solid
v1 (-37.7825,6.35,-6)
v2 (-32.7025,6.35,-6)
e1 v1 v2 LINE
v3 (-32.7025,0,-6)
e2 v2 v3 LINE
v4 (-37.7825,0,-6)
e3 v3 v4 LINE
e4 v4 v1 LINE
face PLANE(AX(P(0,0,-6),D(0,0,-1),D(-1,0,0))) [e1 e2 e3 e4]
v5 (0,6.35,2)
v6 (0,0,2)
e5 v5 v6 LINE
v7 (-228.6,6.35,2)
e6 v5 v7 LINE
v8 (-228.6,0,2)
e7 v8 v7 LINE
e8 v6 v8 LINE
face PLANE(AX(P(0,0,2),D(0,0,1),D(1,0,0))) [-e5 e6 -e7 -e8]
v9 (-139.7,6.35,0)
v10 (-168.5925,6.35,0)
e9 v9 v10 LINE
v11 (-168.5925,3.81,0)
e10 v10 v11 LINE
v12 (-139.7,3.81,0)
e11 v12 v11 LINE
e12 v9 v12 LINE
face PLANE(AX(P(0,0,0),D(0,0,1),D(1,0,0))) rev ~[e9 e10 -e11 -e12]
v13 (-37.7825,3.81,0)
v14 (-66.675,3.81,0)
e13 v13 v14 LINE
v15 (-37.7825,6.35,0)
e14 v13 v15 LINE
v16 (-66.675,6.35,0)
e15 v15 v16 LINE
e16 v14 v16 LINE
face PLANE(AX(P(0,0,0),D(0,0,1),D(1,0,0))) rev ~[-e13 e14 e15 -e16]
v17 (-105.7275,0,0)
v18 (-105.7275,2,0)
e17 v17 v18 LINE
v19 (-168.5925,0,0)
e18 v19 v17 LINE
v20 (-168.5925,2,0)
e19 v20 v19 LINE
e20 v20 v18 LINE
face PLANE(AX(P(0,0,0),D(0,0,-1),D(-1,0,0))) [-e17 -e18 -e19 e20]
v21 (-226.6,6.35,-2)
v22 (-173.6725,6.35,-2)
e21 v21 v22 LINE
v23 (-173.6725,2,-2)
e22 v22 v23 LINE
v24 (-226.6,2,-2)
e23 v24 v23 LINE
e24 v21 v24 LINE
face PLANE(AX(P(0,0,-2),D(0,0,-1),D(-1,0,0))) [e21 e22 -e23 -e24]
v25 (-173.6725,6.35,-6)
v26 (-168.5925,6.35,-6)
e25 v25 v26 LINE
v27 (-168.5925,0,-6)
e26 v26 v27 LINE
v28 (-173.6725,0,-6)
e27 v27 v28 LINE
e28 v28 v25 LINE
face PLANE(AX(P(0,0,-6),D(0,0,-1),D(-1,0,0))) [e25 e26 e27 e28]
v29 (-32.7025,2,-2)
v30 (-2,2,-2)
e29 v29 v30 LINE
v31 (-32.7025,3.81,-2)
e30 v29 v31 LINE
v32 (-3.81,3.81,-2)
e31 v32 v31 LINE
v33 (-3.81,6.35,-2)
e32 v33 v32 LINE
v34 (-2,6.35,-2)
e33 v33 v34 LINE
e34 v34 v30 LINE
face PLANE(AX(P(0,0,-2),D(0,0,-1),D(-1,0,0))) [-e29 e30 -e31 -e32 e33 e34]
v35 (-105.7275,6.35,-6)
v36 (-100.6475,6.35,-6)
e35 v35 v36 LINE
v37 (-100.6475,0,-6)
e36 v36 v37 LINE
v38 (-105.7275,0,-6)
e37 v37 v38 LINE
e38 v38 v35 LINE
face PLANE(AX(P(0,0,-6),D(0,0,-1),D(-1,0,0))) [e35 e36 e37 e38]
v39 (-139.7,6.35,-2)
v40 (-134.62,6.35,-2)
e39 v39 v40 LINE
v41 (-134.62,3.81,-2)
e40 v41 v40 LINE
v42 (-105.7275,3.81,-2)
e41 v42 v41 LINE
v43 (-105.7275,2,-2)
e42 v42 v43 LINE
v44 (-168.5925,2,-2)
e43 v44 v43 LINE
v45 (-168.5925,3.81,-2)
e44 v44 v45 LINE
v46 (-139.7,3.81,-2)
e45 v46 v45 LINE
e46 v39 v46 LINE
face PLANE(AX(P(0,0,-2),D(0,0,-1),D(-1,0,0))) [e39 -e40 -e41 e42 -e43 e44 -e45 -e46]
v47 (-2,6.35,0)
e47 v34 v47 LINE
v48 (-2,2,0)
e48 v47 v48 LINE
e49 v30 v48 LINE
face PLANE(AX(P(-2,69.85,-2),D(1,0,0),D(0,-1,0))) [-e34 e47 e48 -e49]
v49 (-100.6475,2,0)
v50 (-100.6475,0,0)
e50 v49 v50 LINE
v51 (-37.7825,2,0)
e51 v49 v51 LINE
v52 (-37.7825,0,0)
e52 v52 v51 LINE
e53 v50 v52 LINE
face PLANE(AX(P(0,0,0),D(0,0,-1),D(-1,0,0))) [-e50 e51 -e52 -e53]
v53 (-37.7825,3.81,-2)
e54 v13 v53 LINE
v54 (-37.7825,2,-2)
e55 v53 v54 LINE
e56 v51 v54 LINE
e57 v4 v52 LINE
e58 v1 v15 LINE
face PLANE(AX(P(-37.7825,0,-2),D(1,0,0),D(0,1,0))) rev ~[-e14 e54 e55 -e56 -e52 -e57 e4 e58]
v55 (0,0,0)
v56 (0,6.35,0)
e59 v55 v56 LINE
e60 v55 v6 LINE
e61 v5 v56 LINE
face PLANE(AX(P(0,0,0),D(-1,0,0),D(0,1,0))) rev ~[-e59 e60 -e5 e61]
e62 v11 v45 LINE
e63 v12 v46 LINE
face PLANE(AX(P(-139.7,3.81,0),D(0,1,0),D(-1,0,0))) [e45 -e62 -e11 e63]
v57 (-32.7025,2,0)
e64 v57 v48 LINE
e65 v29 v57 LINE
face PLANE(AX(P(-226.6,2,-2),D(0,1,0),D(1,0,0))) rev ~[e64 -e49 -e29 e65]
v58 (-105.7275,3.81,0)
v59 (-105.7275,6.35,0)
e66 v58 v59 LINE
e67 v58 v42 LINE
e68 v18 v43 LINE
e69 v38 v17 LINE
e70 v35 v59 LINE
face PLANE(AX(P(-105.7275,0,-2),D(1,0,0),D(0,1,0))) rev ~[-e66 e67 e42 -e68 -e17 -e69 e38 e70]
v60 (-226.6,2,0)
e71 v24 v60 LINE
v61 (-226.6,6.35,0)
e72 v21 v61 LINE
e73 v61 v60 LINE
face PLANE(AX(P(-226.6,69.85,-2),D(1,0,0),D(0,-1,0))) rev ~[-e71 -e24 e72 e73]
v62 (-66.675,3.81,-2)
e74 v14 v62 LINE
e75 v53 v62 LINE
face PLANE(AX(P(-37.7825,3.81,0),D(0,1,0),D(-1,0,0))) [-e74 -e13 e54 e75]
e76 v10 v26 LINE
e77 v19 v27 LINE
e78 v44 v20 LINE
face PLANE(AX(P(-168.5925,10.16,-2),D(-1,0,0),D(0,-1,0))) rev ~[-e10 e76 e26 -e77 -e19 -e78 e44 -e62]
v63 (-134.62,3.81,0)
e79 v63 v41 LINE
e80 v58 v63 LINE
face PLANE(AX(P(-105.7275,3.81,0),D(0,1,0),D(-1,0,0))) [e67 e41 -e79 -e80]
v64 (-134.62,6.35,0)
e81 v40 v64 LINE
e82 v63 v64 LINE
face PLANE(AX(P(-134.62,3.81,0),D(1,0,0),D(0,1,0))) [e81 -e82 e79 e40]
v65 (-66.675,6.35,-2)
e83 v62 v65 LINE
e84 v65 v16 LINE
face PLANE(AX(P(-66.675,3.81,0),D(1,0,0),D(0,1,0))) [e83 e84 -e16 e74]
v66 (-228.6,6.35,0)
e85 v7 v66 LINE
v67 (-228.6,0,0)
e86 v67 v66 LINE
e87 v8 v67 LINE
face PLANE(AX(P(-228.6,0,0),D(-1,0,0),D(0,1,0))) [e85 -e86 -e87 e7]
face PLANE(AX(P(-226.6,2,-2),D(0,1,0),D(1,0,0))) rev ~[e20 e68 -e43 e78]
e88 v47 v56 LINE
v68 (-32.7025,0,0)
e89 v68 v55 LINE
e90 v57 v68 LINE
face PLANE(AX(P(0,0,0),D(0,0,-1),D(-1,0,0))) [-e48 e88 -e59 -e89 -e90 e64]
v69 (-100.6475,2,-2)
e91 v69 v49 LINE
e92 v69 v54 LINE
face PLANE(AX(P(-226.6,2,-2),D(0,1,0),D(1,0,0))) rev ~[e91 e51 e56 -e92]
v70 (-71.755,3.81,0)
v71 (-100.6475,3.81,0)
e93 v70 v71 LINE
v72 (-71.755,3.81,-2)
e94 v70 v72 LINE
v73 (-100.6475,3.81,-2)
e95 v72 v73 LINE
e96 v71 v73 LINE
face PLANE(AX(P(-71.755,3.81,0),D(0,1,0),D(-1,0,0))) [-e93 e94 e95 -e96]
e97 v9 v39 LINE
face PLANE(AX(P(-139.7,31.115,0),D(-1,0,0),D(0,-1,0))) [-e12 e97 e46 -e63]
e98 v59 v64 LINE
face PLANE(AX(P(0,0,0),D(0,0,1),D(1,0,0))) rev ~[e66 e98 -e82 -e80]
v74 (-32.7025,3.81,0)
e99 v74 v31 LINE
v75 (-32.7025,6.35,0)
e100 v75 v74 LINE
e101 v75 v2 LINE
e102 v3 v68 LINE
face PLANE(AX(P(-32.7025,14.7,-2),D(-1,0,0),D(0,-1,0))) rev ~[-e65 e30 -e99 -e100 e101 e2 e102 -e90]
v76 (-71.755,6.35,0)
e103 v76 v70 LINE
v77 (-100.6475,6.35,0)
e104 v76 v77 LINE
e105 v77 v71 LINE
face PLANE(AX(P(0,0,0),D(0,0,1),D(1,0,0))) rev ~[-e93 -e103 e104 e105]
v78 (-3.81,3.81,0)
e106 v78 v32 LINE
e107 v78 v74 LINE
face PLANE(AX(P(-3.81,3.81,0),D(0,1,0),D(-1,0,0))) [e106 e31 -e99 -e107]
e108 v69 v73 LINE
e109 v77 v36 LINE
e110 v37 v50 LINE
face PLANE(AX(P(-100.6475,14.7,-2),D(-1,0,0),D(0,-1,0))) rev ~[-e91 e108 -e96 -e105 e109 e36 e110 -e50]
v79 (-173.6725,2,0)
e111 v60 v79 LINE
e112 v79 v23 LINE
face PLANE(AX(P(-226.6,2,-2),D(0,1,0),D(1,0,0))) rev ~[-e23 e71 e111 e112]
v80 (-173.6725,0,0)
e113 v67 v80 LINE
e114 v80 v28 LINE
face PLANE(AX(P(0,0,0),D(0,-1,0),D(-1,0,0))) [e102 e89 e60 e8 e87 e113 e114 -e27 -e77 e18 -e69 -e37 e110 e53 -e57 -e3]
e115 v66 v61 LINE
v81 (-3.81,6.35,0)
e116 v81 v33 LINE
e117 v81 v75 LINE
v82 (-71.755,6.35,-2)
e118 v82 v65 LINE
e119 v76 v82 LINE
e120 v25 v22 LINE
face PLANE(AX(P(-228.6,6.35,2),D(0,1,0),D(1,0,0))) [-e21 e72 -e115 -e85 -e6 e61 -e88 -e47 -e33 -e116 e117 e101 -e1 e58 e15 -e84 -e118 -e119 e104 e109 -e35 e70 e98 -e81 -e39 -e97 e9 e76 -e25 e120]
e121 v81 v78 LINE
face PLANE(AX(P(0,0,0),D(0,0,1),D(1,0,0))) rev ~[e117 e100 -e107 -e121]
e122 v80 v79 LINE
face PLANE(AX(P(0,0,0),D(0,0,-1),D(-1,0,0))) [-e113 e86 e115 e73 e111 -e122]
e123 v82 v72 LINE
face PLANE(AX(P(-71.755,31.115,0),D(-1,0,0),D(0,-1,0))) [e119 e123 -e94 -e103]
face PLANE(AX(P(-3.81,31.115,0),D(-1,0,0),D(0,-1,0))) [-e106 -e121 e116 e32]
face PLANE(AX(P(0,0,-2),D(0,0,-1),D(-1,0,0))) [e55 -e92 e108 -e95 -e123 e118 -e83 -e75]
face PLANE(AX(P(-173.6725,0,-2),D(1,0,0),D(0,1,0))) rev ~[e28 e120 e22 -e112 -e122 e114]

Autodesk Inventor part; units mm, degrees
ref_plane "YZ Plane" through (0, 0, 0) normal (1, 0, 0) x (0, 1, 0)
ref_plane "XZ Plane" through (0, 0, 0) normal (0, 1, 0) x (-1, 0, 0)
ref_plane "XY Plane" through (0, 0, 0) normal (0, 0, 1) x (1, 0, 0)
sketch "Sketch1" plane through (0, 0, 0) normal (0, 0, 1) x (1, 0, 0)
  line L0 (0, 0) -> (-6.35, 0) construction
  line L1 (-6.35, 0) -> (-6.35, 6.35) construction
  line L2 (-6.35, 6.35) -> (0, 6.35) construction
  line L3 (0, 6.35) -> (0, 0) construction
  line L4 (-6.35, 6.35) -> (-30.1625, 6.35)
  line L5 (-30.1625, 6.35) -> (-30.1625, 28.575)
  line L6 (-30.1625, 28.575) -> (-6.35, 28.575)
  line L7 (-6.35, 28.575) -> (-6.35, 6.35)
  line L8 (-30.1625, 6.35) -> (-35.2425, 6.35) construction
  line L9 (-35.2425, 6.35) -> (-35.2425, 0) construction
  line L10 (-35.2425, 0) -> (-30.1625, 0) construction
  line L11 (-30.1625, 0) -> (-30.1625, 6.35) construction
  line L12 (-40.3225, 6.35) -> (-64.135, 6.35)
  line L13 (-64.135, 6.35) -> (-64.135, 28.575)
  line L14 (-64.135, 28.575) -> (-40.3225, 28.575)
  line L15 (-40.3225, 28.575) -> (-40.3225, 6.35)
  line L16 (-64.135, 6.35) -> (-69.215, 6.35) construction
  line L17 (-69.215, 6.35) -> (-69.215, 0) construction
  line L18 (-69.215, 0) -> (-64.135, 0) construction
  line L19 (-64.135, 0) -> (-64.135, 6.35) construction
  line L20 (-74.295, 6.35) -> (-98.1075, 6.35)
  line L21 (-98.1075, 6.35) -> (-98.1075, 28.575)
  line L22 (-98.1075, 28.575) -> (-74.295, 28.575)
  line L23 (-74.295, 28.575) -> (-74.295, 6.35)
  line L24 (-98.1075, 6.35) -> (-103.1875, 6.35) construction
  line L25 (-103.1875, 6.35) -> (-103.1875, 0) construction
  line L26 (-103.1875, 0) -> (-98.1075, 0) construction
  line L27 (-98.1075, 0) -> (-98.1075, 6.35) construction
  line L28 (-108.2675, 6.35) -> (-132.08, 6.35)
  line L29 (-132.08, 6.35) -> (-132.08, 28.575)
  line L30 (-132.08, 28.575) -> (-108.2675, 28.575)
  line L31 (-108.2675, 28.575) -> (-108.2675, 6.35)
  line L32 (-132.08, 6.35) -> (-137.16, 6.35) construction
  line L33 (-137.16, 6.35) -> (-137.16, 0) construction
  line L34 (-137.16, 0) -> (-132.08, 0) construction
  line L35 (-132.08, 0) -> (-132.08, 6.35) construction
  line L36 (-6.35, 40.005) -> (-30.1625, 40.005)
  line L37 (-30.1625, 40.005) -> (-30.1625, 62.23)
  line L38 (-30.1625, 62.23) -> (-6.35, 62.23)
  line L39 (-6.35, 62.23) -> (-6.35, 40.005)
  line L40 (-30.1625, 40.005) -> (-35.2425, 40.005) construction
  line L41 (-35.2425, 40.005) -> (-35.2425, 33.655) construction
  line L42 (-35.2425, 33.655) -> (-30.1625, 33.655) construction
  line L43 (-30.1625, 33.655) -> (-30.1625, 40.005) construction
  line L44 (-40.3225, 40.005) -> (-64.135, 40.005)
  line L45 (-64.135, 40.005) -> (-64.135, 62.23)
  line L46 (-64.135, 62.23) -> (-40.3225, 62.23)
  line L47 (-40.3225, 62.23) -> (-40.3225, 40.005)
  line L48 (-64.135, 40.005) -> (-69.215, 40.005) construction
  line L49 (-69.215, 40.005) -> (-69.215, 33.655) construction
  line L50 (-69.215, 33.655) -> (-64.135, 33.655) construction
  line L51 (-64.135, 33.655) -> (-64.135, 40.005) construction
  line L52 (-74.295, 40.005) -> (-98.1075, 40.005)
  line L53 (-98.1075, 40.005) -> (-98.1075, 62.23)
  line L54 (-98.1075, 62.23) -> (-74.295, 62.23)
  line L55 (-74.295, 62.23) -> (-74.295, 40.005)
  line L56 (-98.1075, 40.005) -> (-103.1875, 40.005) construction
  line L57 (-103.1875, 40.005) -> (-103.1875, 33.655) construction
  line L58 (-103.1875, 33.655) -> (-98.1075, 33.655) construction
  line L59 (-98.1075, 33.655) -> (-98.1075, 40.005) construction
  line L60 (-108.2675, 40.005) -> (-132.08, 40.005)
  line L61 (-132.08, 40.005) -> (-132.08, 62.23)
  line L62 (-132.08, 62.23) -> (-108.2675, 62.23)
  line L63 (-108.2675, 62.23) -> (-108.2675, 40.005)
  line L64 (-132.08, 40.005) -> (-137.16, 40.005) construction
  line L65 (-137.16, 40.005) -> (-137.16, 33.655) construction
  line L66 (-137.16, 33.655) -> (-132.08, 33.655) construction
  line L67 (-132.08, 33.655) -> (-132.08, 40.005) construction
  line L68 (0, -0.5542) -> (0, 69.2958)
  line L69 (0, 62.9458) -> (0, 69.2958)
  line L70 (-142.24, 6.35) -> (-166.0525, 6.35)
  line L71 (-166.0525, 6.35) -> (-166.0525, 28.575)
  line L72 (-166.0525, 28.575) -> (-142.24, 28.575)
  line L73 (-142.24, 28.575) -> (-142.24, 6.35)
  line L74 (-166.0525, 6.35) -> (-171.1325, 6.35) construction
  line L75 (-171.1325, 6.35) -> (-171.1325, 0) construction
  line L76 (-171.1325, 0) -> (-166.0525, 0) construction
  line L77 (-166.0525, 0) -> (-166.0525, 6.35) construction
  line L78 (-142.24, 40.005) -> (-166.0525, 40.005)
  line L79 (-166.0525, 40.005) -> (-166.0525, 62.23)
  line L80 (-166.0525, 62.23) -> (-142.24, 62.23)
  line L81 (-142.24, 62.23) -> (-142.24, 40.005)
  line L82 (-166.0525, 40.005) -> (-171.1325, 40.005) construction
  line L83 (-171.1325, 40.005) -> (-171.1325, 33.655) construction
  line L84 (-171.1325, 33.655) -> (-166.0525, 33.655) construction
  line L85 (-166.0525, 33.655) -> (-166.0525, 40.005) construction
  line L86 (0, 0) -> (-228.6, 0)
  line L87 (-228.6, 0) -> (-228.6, 69.85)
  line L88 (-228.6, 69.85) -> (0, 69.85)
  line L89 (0, 69.85) -> (0, 0)
  circle A0 centre (-181.6894, 55.6895) radius 6.5405
  line L90 (-228.6, 0) -> (-173.696, 0) construction
  line L91 (-173.696, 69.85) -> (-228.6, 69.85) construction
  line L92 (-228.6, 69.85) -> (-228.6, 0) construction
  line L93 (-228.6, 69.85) -> (-228.6, 42.1979) construction
  line L94 (-228.6, 42.1979) -> (-228.6, 34.925) construction
  line L95 (-228.6, 69.85) -> (-166.0525, 69.85) construction
  line L96 (-166.0525, 69.85) -> (-166.0525, 0) construction
  line L97 (-166.0525, 0) -> (-228.6, 0) construction
  line L98 (-228.6, 0) -> (-228.6, 69.85) construction
  line L99 (-166.0525, 69.85) -> (-197.3262, 69.85) construction
  line L100 (-197.3262, 69.85) -> (-197.3262, 0) construction
  line L101 (-197.3262, 0) -> (-166.0525, 0) construction
  line L102 (-166.0525, 0) -> (-166.0525, 69.85) construction
  circle A1 centre (-181.6894, 36.6395) radius 6.5405
  circle A2 centre (-181.6894, 17.5895) radius 6.5405
  circle A3 centre (-212.9631, 55.6895) radius 6.5405
  circle A4 centre (-212.9631, 36.6395) radius 6.5405
  circle A5 centre (-212.9631, 17.5895) radius 6.5405
  point P0 (-40.3225, 0)
  point P1 (-74.295, 0)
  point P2 (-108.2675, 0)
  point P3 (-6.35, 33.655)
  point P4 (-40.3225, 33.655)
  point P5 (-74.295, 33.655)
  point P6 (-108.2675, 33.655)
  point P7 (-142.24, 0)
  point P8 (-142.24, 33.655)
  point P9 (-181.6894, 69.85)
  dimension "d0" = 6.35
  dimension "d1" = 6.35
  dimension "d2" = 23.8125
  dimension "d3" = 22.225
  dimension "d4" = 5.08
  dimension "d7" = 33.9725
  dimension "d10" = 33.655
  dimension "d13" = 69.85
  dimension "d16" = 228.6
  dimension "d17" = 69.85
  dimension "d58" = 13.081
  dimension "d59" = 14.1605
  dimension "d62" = 19.05
extrude "Extrusion1" add sketch "Sketch1" along normal blind 2
sketch "Sketch3" plane through (0, 0, 0) normal (0, 0, -1) x (-1, 0, 0)
  line L0 (228.6, 69.85) -> (228.6, 0) projected
  line L1 (0, 69.85) -> (228.6, 69.85) projected
  line L2 (0, 0) -> (0, 69.85) projected
  line L3 (228.6, 0) -> (0, 0) projected
  circle A0 centre (181.6894, 55.6895) radius 6.5405 projected
  line L4 (142.24, 40.005) -> (166.0525, 40.005) projected
  line L5 (142.24, 62.23) -> (142.24, 40.005) projected
  line L6 (166.0525, 62.23) -> (142.24, 62.23) projected
  line L7 (166.0525, 40.005) -> (166.0525, 62.23) projected
  line L8 (142.24, 6.35) -> (166.0525, 6.35) projected
  line L9 (142.24, 28.575) -> (142.24, 6.35) projected
  line L10 (166.0525, 28.575) -> (142.24, 28.575) projected
  line L11 (166.0525, 6.35) -> (166.0525, 28.575) projected
  line L12 (108.2675, 40.005) -> (132.08, 40.005) projected
  line L13 (108.2675, 62.23) -> (108.2675, 40.005) projected
  line L14 (132.08, 62.23) -> (108.2675, 62.23) projected
  line L15 (132.08, 40.005) -> (132.08, 62.23) projected
  line L16 (74.295, 40.005) -> (98.1075, 40.005) projected
  line L17 (74.295, 62.23) -> (74.295, 40.005) projected
  line L18 (98.1075, 62.23) -> (74.295, 62.23) projected
  line L19 (98.1075, 40.005) -> (98.1075, 62.23) projected
  line L20 (40.3225, 40.005) -> (64.135, 40.005) projected
  line L21 (40.3225, 62.23) -> (40.3225, 40.005) projected
  line L22 (64.135, 62.23) -> (40.3225, 62.23) projected
  line L23 (64.135, 40.005) -> (64.135, 62.23) projected
  line L24 (6.35, 40.005) -> (30.1625, 40.005) projected
  line L25 (6.35, 62.23) -> (6.35, 40.005) projected
  line L26 (30.1625, 62.23) -> (6.35, 62.23) projected
  line L27 (30.1625, 40.005) -> (30.1625, 62.23) projected
  line L28 (108.2675, 6.35) -> (132.08, 6.35) projected
  line L29 (108.2675, 28.575) -> (108.2675, 6.35) projected
  line L30 (132.08, 28.575) -> (108.2675, 28.575) projected
  line L31 (132.08, 6.35) -> (132.08, 28.575) projected
  line L32 (74.295, 6.35) -> (98.1075, 6.35) projected
  line L33 (74.295, 28.575) -> (74.295, 6.35) projected
  line L34 (98.1075, 28.575) -> (74.295, 28.575) projected
  line L35 (98.1075, 6.35) -> (98.1075, 28.575) projected
  line L36 (40.3225, 6.35) -> (64.135, 6.35) projected
  line L37 (40.3225, 28.575) -> (40.3225, 6.35) projected
  line L38 (64.135, 28.575) -> (40.3225, 28.575) projected
  line L39 (64.135, 6.35) -> (64.135, 28.575) projected
  line L40 (6.35, 6.35) -> (30.1625, 6.35) projected
  line L41 (6.35, 28.575) -> (6.35, 6.35) projected
  line L42 (30.1625, 28.575) -> (6.35, 28.575) projected
  line L43 (30.1625, 6.35) -> (30.1625, 28.575) projected
  line L44 (3.81, 37.465) -> (32.7025, 37.465)
  line L45 (32.7025, 37.465) -> (32.7025, 64.77)
  line L46 (32.7025, 64.77) -> (3.81, 64.77)
  line L47 (3.81, 64.77) -> (3.81, 37.465)
  line L48 (37.7825, 37.465) -> (66.675, 37.465)
  line L49 (66.675, 37.465) -> (66.675, 64.77)
  line L50 (66.675, 64.77) -> (37.7825, 64.77)
  line L51 (37.7825, 64.77) -> (37.7825, 37.465)
  line L52 (71.755, 37.465) -> (100.6475, 37.465)
  line L53 (100.6475, 37.465) -> (100.6475, 64.77)
  line L54 (100.6475, 64.77) -> (71.755, 64.77)
  line L55 (71.755, 64.77) -> (71.755, 37.465)
  line L56 (105.7275, 37.465) -> (134.62, 37.465)
  line L57 (134.62, 37.465) -> (134.62, 64.77)
  line L58 (134.62, 64.77) -> (105.7275, 64.77)
  line L59 (105.7275, 64.77) -> (105.7275, 37.465)
  line L60 (139.7, 37.465) -> (168.5925, 37.465)
  line L61 (168.5925, 37.465) -> (168.5925, 64.77)
  line L62 (168.5925, 64.77) -> (139.7, 64.77)
  line L63 (139.7, 64.77) -> (139.7, 37.465)
  line L64 (139.7, 3.81) -> (168.5925, 3.81)
  line L65 (168.5925, 3.81) -> (168.5925, 31.115)
  line L66 (168.5925, 31.115) -> (139.7, 31.115)
  line L67 (139.7, 31.115) -> (139.7, 3.81)
  line L68 (105.7275, 3.81) -> (134.62, 3.81)
  line L69 (134.62, 3.81) -> (134.62, 31.115)
  line L70 (134.62, 31.115) -> (105.7275, 31.115)
  line L71 (105.7275, 31.115) -> (105.7275, 3.81)
  line L72 (71.755, 3.81) -> (100.6475, 3.81)
  line L73 (100.6475, 3.81) -> (100.6475, 31.115)
  line L74 (100.6475, 31.115) -> (71.755, 31.115)
  line L75 (71.755, 31.115) -> (71.755, 3.81)
  line L76 (37.7825, 3.81) -> (66.675, 3.81)
  line L77 (66.675, 3.81) -> (66.675, 31.115)
  line L78 (66.675, 31.115) -> (37.7825, 31.115)
  line L79 (37.7825, 31.115) -> (37.7825, 3.81)
  line L80 (3.81, 3.81) -> (32.7025, 3.81)
  line L81 (32.7025, 3.81) -> (32.7025, 31.115)
  line L82 (32.7025, 31.115) -> (3.81, 31.115)
  line L83 (3.81, 31.115) -> (3.81, 3.81)
  line L84 (228.6, 69.85) -> (228.6, 0) projected
  line L85 (0, 69.85) -> (228.6, 69.85) projected
  line L86 (0, 0) -> (0, 69.85) projected
  line L87 (228.6, 0) -> (0, 0) projected
  circle A1 centre (181.6894, 55.6895) radius 6.5405 projected
  circle A2 centre (181.6894, 36.6395) radius 6.5405 projected
  circle A3 centre (181.6894, 17.5895) radius 6.5405 projected
  circle A4 centre (212.9631, 36.6395) radius 6.5405 projected
  circle A5 centre (212.9631, 55.6895) radius 6.5405 projected
  circle A6 centre (212.9631, 17.5895) radius 6.5405 projected
  line L88 (142.24, 40.005) -> (166.0525, 40.005) projected
  line L89 (142.24, 62.23) -> (142.24, 40.005) projected
  line L90 (166.0525, 62.23) -> (142.24, 62.23) projected
  line L91 (166.0525, 40.005) -> (166.0525, 62.23) projected
  line L92 (142.24, 6.35) -> (166.0525, 6.35) projected
  line L93 (142.24, 28.575) -> (142.24, 6.35) projected
  line L94 (166.0525, 28.575) -> (142.24, 28.575) projected
  line L95 (166.0525, 6.35) -> (166.0525, 28.575) projected
  line L96 (108.2675, 40.005) -> (132.08, 40.005) projected
  line L97 (108.2675, 62.23) -> (108.2675, 40.005) projected
  line L98 (132.08, 62.23) -> (108.2675, 62.23) projected
  line L99 (132.08, 40.005) -> (132.08, 62.23) projected
  line L100 (74.295, 40.005) -> (98.1075, 40.005) projected
  line L101 (74.295, 62.23) -> (74.295, 40.005) projected
  line L102 (98.1075, 62.23) -> (74.295, 62.23) projected
  line L103 (98.1075, 40.005) -> (98.1075, 62.23) projected
  line L104 (40.3225, 40.005) -> (64.135, 40.005) projected
  line L105 (40.3225, 62.23) -> (40.3225, 40.005) projected
  line L106 (64.135, 62.23) -> (40.3225, 62.23) projected
  line L107 (64.135, 40.005) -> (64.135, 62.23) projected
  line L108 (6.35, 40.005) -> (30.1625, 40.005) projected
  line L109 (6.35, 62.23) -> (6.35, 40.005) projected
  line L110 (30.1625, 62.23) -> (6.35, 62.23) projected
  line L111 (30.1625, 40.005) -> (30.1625, 62.23) projected
  line L112 (108.2675, 6.35) -> (132.08, 6.35) projected
  line L113 (108.2675, 28.575) -> (108.2675, 6.35) projected
  line L114 (132.08, 28.575) -> (108.2675, 28.575) projected
  line L115 (132.08, 6.35) -> (132.08, 28.575) projected
  line L116 (74.295, 6.35) -> (98.1075, 6.35) projected
  line L117 (74.295, 28.575) -> (74.295, 6.35) projected
  line L118 (98.1075, 28.575) -> (74.295, 28.575) projected
  line L119 (98.1075, 6.35) -> (98.1075, 28.575) projected
  line L120 (40.3225, 6.35) -> (64.135, 6.35) projected
  line L121 (40.3225, 28.575) -> (40.3225, 6.35) projected
  line L122 (64.135, 28.575) -> (40.3225, 28.575) projected
  line L123 (64.135, 6.35) -> (64.135, 28.575) projected
  line L124 (6.35, 6.35) -> (30.1625, 6.35) projected
  line L125 (6.35, 28.575) -> (6.35, 6.35) projected
  line L126 (30.1625, 28.575) -> (6.35, 28.575) projected
  line L127 (30.1625, 6.35) -> (30.1625, 28.575) projected
  circle A7 centre (181.6894, 55.6895) radius 9.0805
  circle A8 centre (212.9631, 55.6895) radius 9.0805
  circle A9 centre (212.9631, 36.6395) radius 9.0805
  circle A10 centre (212.9631, 17.5895) radius 9.0805
  circle A11 centre (181.6894, 17.5895) radius 9.0805
  circle A12 centre (181.6894, 36.6395) radius 9.0805
  dimension "d48" = 2.54
  dimension "d49" = 2.54
  dimension "d50" = 2.54
  dimension "d51" = 2.54
  dimension "d52" = 2.54
  dimension "d53" = 2.54
  dimension "d54" = 2.54
  dimension "d55" = 2.54
  dimension "d56" = 2.54
  dimension "d57" = 2.54
  dimension "d67" = 2.54
  dimension "d68" = 2.54
  dimension "d69" = 2.54
  dimension "d70" = 2.54
  dimension "d71" = 2.54
  dimension "d72" = 2.54
extrude "Extrusion2" add sketch "Sketch3" along normal blind 2 contours L0 L3 L2 L1
sketch "Sketch4" plane through (0, 0, -2) normal (0, 0, -1) x (-1, 0, 0)
  line L0 (228.6, 0) -> (228.6, 69.85) construction
  line L1 (228.6, 69.85) -> (0, 69.85) construction
  line L2 (0, 69.85) -> (0, 0) construction
  line L3 (0, 0) -> (228.6, 0) construction
  circle A0 centre (181.6894, 36.6395) radius 9.0805 construction
  circle A1 centre (181.6894, 17.5895) radius 9.0805 construction
  circle A2 centre (212.9631, 17.5895) radius 9.0805 construction
  circle A3 centre (212.9631, 36.6395) radius 9.0805 construction
  circle A4 centre (212.9631, 55.6895) radius 9.0805 construction
  circle A5 centre (181.6894, 55.6895) radius 9.0805 construction
  line L4 (3.81, 3.81) -> (3.81, 31.115) construction
  line L5 (3.81, 31.115) -> (32.7025, 31.115) construction
  line L6 (32.7025, 31.115) -> (32.7025, 3.81) construction
  line L7 (32.7025, 3.81) -> (3.81, 3.81) construction
  line L8 (37.7825, 3.81) -> (37.7825, 31.115) construction
  line L9 (37.7825, 31.115) -> (66.675, 31.115) construction
  line L10 (66.675, 31.115) -> (66.675, 3.81) construction
  line L11 (66.675, 3.81) -> (37.7825, 3.81) construction
  line L12 (71.755, 3.81) -> (71.755, 31.115) construction
  line L13 (71.755, 31.115) -> (100.6475, 31.115) construction
  line L14 (100.6475, 31.115) -> (100.6475, 3.81) construction
  line L15 (100.6475, 3.81) -> (71.755, 3.81) construction
  line L16 (105.7275, 3.81) -> (105.7275, 31.115) construction
  line L17 (105.7275, 31.115) -> (134.62, 31.115) construction
  line L18 (134.62, 31.115) -> (134.62, 3.81) construction
  line L19 (134.62, 3.81) -> (105.7275, 3.81) construction
  line L20 (139.7, 3.81) -> (139.7, 31.115) construction
  line L21 (139.7, 31.115) -> (168.5925, 31.115) construction
  line L22 (168.5925, 31.115) -> (168.5925, 3.81) construction
  line L23 (168.5925, 3.81) -> (139.7, 3.81) construction
  line L24 (139.7, 37.465) -> (139.7, 64.77) construction
  line L25 (139.7, 64.77) -> (168.5925, 64.77) construction
  line L26 (168.5925, 64.77) -> (168.5925, 37.465) construction
  line L27 (168.5925, 37.465) -> (139.7, 37.465) construction
  line L28 (105.7275, 37.465) -> (105.7275, 64.77) construction
  line L29 (105.7275, 64.77) -> (134.62, 64.77) construction
  line L30 (134.62, 64.77) -> (134.62, 37.465) construction
  line L31 (134.62, 37.465) -> (105.7275, 37.465) construction
  line L32 (71.755, 37.465) -> (71.755, 64.77) construction
  line L33 (71.755, 64.77) -> (100.6475, 64.77) construction
  line L34 (100.6475, 64.77) -> (100.6475, 37.465) construction
  line L35 (100.6475, 37.465) -> (71.755, 37.465) construction
  line L36 (37.7825, 37.465) -> (37.7825, 64.77) construction
  line L37 (37.7825, 64.77) -> (66.675, 64.77) construction
  line L38 (66.675, 64.77) -> (66.675, 37.465) construction
  line L39 (66.675, 37.465) -> (37.7825, 37.465) construction
  line L40 (3.81, 37.465) -> (3.81, 64.77) construction
  line L41 (3.81, 64.77) -> (32.7025, 64.77) construction
  line L42 (32.7025, 64.77) -> (32.7025, 37.465) construction
  line L43 (32.7025, 37.465) -> (3.81, 37.465) construction
  line L44 (0, 69.85) -> (2, 69.85)
  line L45 (2, 69.85) -> (2, 0)
  line L46 (2, 0) -> (0, 0)
  line L47 (0, 0) -> (0, 69.85)
  line L48 (228.6, 69.85) -> (226.6, 69.85)
  line L49 (226.6, 69.85) -> (226.6, 0)
  line L50 (226.6, 0) -> (228.6, 0)
  line L51 (228.6, 0) -> (228.6, 69.85)
  dimension "d75" = 2
  dimension "d76" = 2
extrude "Extrusion3" cut sketch "Sketch4" against normal blind 2
sketch "Sketch5" plane through (0, 0, -2) normal (0, 0, -1) x (-1, 0, 0)
  line L0 (2, 0) -> (226.6, 0) projected
  line L1 (226.6, 0) -> (226.6, 69.85) projected
  line L2 (2, 0) -> (226.6, 0)
  line L3 (226.6, 0) -> (226.6, 2)
  line L4 (226.6, 2) -> (2, 2)
  line L5 (2, 2) -> (2, 0)
  line L6 (2, 69.85) -> (2, 0) construction
  line L7 (2, 0) -> (226.6, 0) construction
  line L8 (226.6, 0) -> (226.6, 69.85) construction
  line L9 (226.6, 69.85) -> (2, 69.85) construction
  circle A0 centre (181.6894, 36.6395) radius 9.0805 construction
  circle A1 centre (181.6894, 17.5895) radius 9.0805 construction
  circle A2 centre (212.9631, 17.5895) radius 9.0805 construction
  circle A3 centre (212.9631, 36.6395) radius 9.0805 construction
  circle A4 centre (212.9631, 55.6895) radius 9.0805 construction
  circle A5 centre (181.6894, 55.6895) radius 9.0805 construction
  line L10 (3.81, 3.81) -> (3.81, 31.115) construction
  line L11 (3.81, 31.115) -> (32.7025, 31.115) construction
  line L12 (32.7025, 31.115) -> (32.7025, 3.81) construction
  line L13 (32.7025, 3.81) -> (3.81, 3.81) construction
  line L14 (37.7825, 3.81) -> (37.7825, 31.115) construction
  line L15 (37.7825, 31.115) -> (66.675, 31.115) construction
  line L16 (66.675, 31.115) -> (66.675, 3.81) construction
  line L17 (66.675, 3.81) -> (37.7825, 3.81) construction
  line L18 (71.755, 3.81) -> (71.755, 31.115) construction
  line L19 (71.755, 31.115) -> (100.6475, 31.115) construction
  line L20 (100.6475, 31.115) -> (100.6475, 3.81) construction
  line L21 (100.6475, 3.81) -> (71.755, 3.81) construction
  line L22 (105.7275, 3.81) -> (105.7275, 31.115) construction
  line L23 (105.7275, 31.115) -> (134.62, 31.115) construction
  line L24 (134.62, 31.115) -> (134.62, 3.81) construction
  line L25 (134.62, 3.81) -> (105.7275, 3.81) construction
  line L26 (139.7, 3.81) -> (139.7, 31.115) construction
  line L27 (139.7, 31.115) -> (168.5925, 31.115) construction
  line L28 (168.5925, 31.115) -> (168.5925, 3.81) construction
  line L29 (168.5925, 3.81) -> (139.7, 3.81) construction
  line L30 (139.7, 37.465) -> (139.7, 64.77) construction
  line L31 (139.7, 64.77) -> (168.5925, 64.77) construction
  line L32 (168.5925, 64.77) -> (168.5925, 37.465) construction
  line L33 (168.5925, 37.465) -> (139.7, 37.465) construction
  line L34 (105.7275, 37.465) -> (105.7275, 64.77) construction
  line L35 (105.7275, 64.77) -> (134.62, 64.77) construction
  line L36 (134.62, 64.77) -> (134.62, 37.465) construction
  line L37 (134.62, 37.465) -> (105.7275, 37.465) construction
  line L38 (71.755, 37.465) -> (71.755, 64.77) construction
  line L39 (71.755, 64.77) -> (100.6475, 64.77) construction
  line L40 (100.6475, 64.77) -> (100.6475, 37.465) construction
  line L41 (100.6475, 37.465) -> (71.755, 37.465) construction
  line L42 (37.7825, 37.465) -> (37.7825, 64.77) construction
  line L43 (37.7825, 64.77) -> (66.675, 64.77) construction
  line L44 (66.675, 64.77) -> (66.675, 37.465) construction
  line L45 (66.675, 37.465) -> (37.7825, 37.465) construction
  line L46 (3.81, 37.465) -> (3.81, 64.77) construction
  line L47 (3.81, 64.77) -> (32.7025, 64.77) construction
  line L48 (32.7025, 64.77) -> (32.7025, 37.465) construction
  line L49 (32.7025, 37.465) -> (3.81, 37.465) construction
  line L50 (2, 69.85) -> (226.6, 69.85) construction
  line L51 (226.6, 69.85) -> (226.6, 67.85) construction
  line L52 (226.6, 67.85) -> (2, 67.85) construction
  line L53 (2, 67.85) -> (2, 69.85) construction
  line L54 (2, 67.85) -> (226.6, 67.85)
  line L55 (226.6, 67.85) -> (226.6, 69.85)
  line L56 (226.6, 69.85) -> (2, 69.85)
  line L57 (2, 69.85) -> (2, 67.85)
  point P0 (0, 0)
  dimension "d79" = 2
  dimension "d80" = 2
extrude "Extrusion4" cut sketch "Sketch5" against normal blind 2
sketch "Sketch6" plane through (0, 0, -2) normal (0, 0, -1) x (-1, 0, 0)
  line L0 (2, 2) -> (226.6, 2) construction
  line L1 (226.6, 2) -> (226.6, 67.85) construction
  line L2 (226.6, 67.85) -> (2, 67.85) construction
  line L3 (2, 67.85) -> (2, 2) construction
  circle A0 centre (181.6894, 36.6395) radius 9.0805 construction
  circle A1 centre (181.6894, 17.5895) radius 9.0805 construction
  circle A2 centre (212.9631, 17.5895) radius 9.0805 construction
  circle A3 centre (212.9631, 36.6395) radius 9.0805 construction
  circle A4 centre (212.9631, 55.6895) radius 9.0805 construction
  circle A5 centre (181.6894, 55.6895) radius 9.0805 construction
  line L4 (3.81, 3.81) -> (3.81, 31.115) construction
  line L5 (3.81, 31.115) -> (32.7025, 31.115) construction
  line L6 (32.7025, 31.115) -> (32.7025, 3.81) construction
  line L7 (32.7025, 3.81) -> (3.81, 3.81) construction
  line L8 (37.7825, 3.81) -> (37.7825, 31.115) construction
  line L9 (37.7825, 31.115) -> (66.675, 31.115) construction
  line L10 (66.675, 31.115) -> (66.675, 3.81) construction
  line L11 (66.675, 3.81) -> (37.7825, 3.81) construction
  line L12 (71.755, 3.81) -> (71.755, 31.115) construction
  line L13 (71.755, 31.115) -> (100.6475, 31.115) construction
  line L14 (100.6475, 31.115) -> (100.6475, 3.81) construction
  line L15 (100.6475, 3.81) -> (71.755, 3.81) construction
  line L16 (105.7275, 3.81) -> (105.7275, 31.115) construction
  line L17 (105.7275, 31.115) -> (134.62, 31.115) construction
  line L18 (134.62, 31.115) -> (134.62, 3.81) construction
  line L19 (134.62, 3.81) -> (105.7275, 3.81) construction
  line L20 (139.7, 3.81) -> (139.7, 31.115) construction
  line L21 (139.7, 31.115) -> (168.5925, 31.115) construction
  line L22 (168.5925, 31.115) -> (168.5925, 3.81) construction
  line L23 (168.5925, 3.81) -> (139.7, 3.81) construction
  line L24 (139.7, 37.465) -> (139.7, 64.77) construction
  line L25 (139.7, 64.77) -> (168.5925, 64.77) construction
  line L26 (168.5925, 64.77) -> (168.5925, 37.465) construction
  line L27 (168.5925, 37.465) -> (139.7, 37.465) construction
  line L28 (105.7275, 37.465) -> (105.7275, 64.77) construction
  line L29 (105.7275, 64.77) -> (134.62, 64.77) construction
  line L30 (134.62, 64.77) -> (134.62, 37.465) construction
  line L31 (134.62, 37.465) -> (105.7275, 37.465) construction
  line L32 (71.755, 37.465) -> (71.755, 64.77) construction
  line L33 (71.755, 64.77) -> (100.6475, 64.77) construction
  line L34 (100.6475, 64.77) -> (100.6475, 37.465) construction
  line L35 (100.6475, 37.465) -> (71.755, 37.465) construction
  line L36 (37.7825, 37.465) -> (37.7825, 64.77) construction
  line L37 (37.7825, 64.77) -> (66.675, 64.77) construction
  line L38 (66.675, 64.77) -> (66.675, 37.465) construction
  line L39 (66.675, 37.465) -> (37.7825, 37.465) construction
  line L40 (3.81, 37.465) -> (3.81, 64.77) construction
  line L41 (3.81, 64.77) -> (32.7025, 64.77) construction
  line L42 (32.7025, 64.77) -> (32.7025, 37.465) construction
  line L43 (32.7025, 37.465) -> (3.81, 37.465) construction
  line L44 (37.7825, 3.81) -> (37.7825, 31.115) construction
  line L45 (32.7025, 2) -> (37.7825, 2) construction
  line L46 (37.7825, 2) -> (37.7825, 14.7) construction
  line L47 (37.7825, 14.7) -> (32.7025, 14.7) construction
  line L48 (32.7025, 14.7) -> (32.7025, 2) construction
  line L49 (228.6, 0) -> (0, 0) construction
  line L50 (228.6, 69.85) -> (228.6, 0) construction
  line L51 (0, 69.85) -> (228.6, 69.85) construction
  line L52 (0, 0) -> (0, 69.85) construction
  line L53 (2, 2) -> (226.6, 2) construction
  line L54 (2, 67.85) -> (2, 2) construction
  line L55 (226.6, 67.85) -> (2, 67.85) construction
  line L56 (226.6, 2) -> (226.6, 67.85) construction
  line L57 (32.7025, 0) -> (37.7825, 0) construction
  line L58 (37.7825, 0) -> (37.7825, 10.16) construction
  line L59 (37.7825, 10.16) -> (32.7025, 10.16) construction
  line L60 (32.7025, 10.16) -> (32.7025, 0) construction
  line L61 (32.7025, 0) -> (37.7825, 0) construction
  line L62 (37.7825, 0) -> (37.7825, 14.7) construction
  line L63 (37.7825, 14.7) -> (32.7025, 14.7) construction
  line L64 (32.7025, 14.7) -> (32.7025, 0) construction
  line L65 (37.7825, 14.7) -> (32.7025, 14.7)
  line L66 (32.7025, 14.7) -> (32.7025, 0)
  line L67 (32.7025, 0) -> (37.7825, 0)
  line L68 (37.7825, 0) -> (37.7825, 14.7)
  line L69 (105.7275, 14.7) -> (100.6475, 14.7)
  line L70 (100.6475, 14.7) -> (100.6475, 0)
  line L71 (100.6475, 0) -> (105.7275, 0)
  line L72 (105.7275, 0) -> (105.7275, 14.7)
  line L73 (168.5925, 0) -> (173.6725, 0)
  line L74 (173.6725, 0) -> (173.6725, 10.16)
  line L75 (173.6725, 10.16) -> (168.5925, 10.16)
  line L76 (168.5925, 10.16) -> (168.5925, 0)
  dimension "d83" = 12.7
  dimension "d84" = 10.16
  dimension "d85" = 5.08
  dimension "d86" = 10.16
extrude "Extrusion5" add sketch "Sketch6" along normal blind 4 and the other way blind 2
sketch "Sketch7" plane through (0, 0, 0) normal (0, 0, -1) x (-1, 0, 0)
  line L0 (173.6725, 2) -> (173.6725, 0) construction
  line L1 (228.6, 0) -> (173.6725, 0) construction
  line L2 (228.6, 69.85) -> (228.6, 0) construction
  line L3 (0, 69.85) -> (228.6, 69.85) construction
  line L4 (0, 0) -> (0, 69.85) construction
  line L5 (32.7025, 0) -> (0, 0) construction
  line L6 (32.7025, 0) -> (32.7025, 2) construction
  line L7 (2, 2) -> (32.7025, 2) construction
  line L8 (2, 67.85) -> (2, 2) construction
  line L9 (226.6, 67.85) -> (2, 67.85) construction
  line L10 (226.6, 2) -> (226.6, 67.85) construction
  line L11 (173.6725, 2) -> (226.6, 2) construction
  line L12 (100.6475, 0) -> (100.6475, 2) construction
  line L13 (37.7825, 2) -> (100.6475, 2) construction
  line L14 (37.7825, 2) -> (37.7825, 0) construction
  line L15 (100.6475, 0) -> (37.7825, 0) construction
  line L16 (168.5925, 0) -> (168.5925, 2) construction
  line L17 (105.7275, 2) -> (168.5925, 2) construction
  line L18 (105.7275, 2) -> (105.7275, 0) construction
  line L19 (168.5925, 0) -> (105.7275, 0) construction
  line L20 (32.7025, 14.7) -> (32.7025, 0) construction
  line L21 (32.7025, 0) -> (37.7825, 0) construction
  line L22 (37.7825, 0) -> (37.7825, 14.7) construction
  line L23 (37.7825, 14.7) -> (32.7025, 14.7) construction
  line L24 (100.6475, 14.7) -> (100.6475, 0) construction
  line L25 (100.6475, 0) -> (105.7275, 0) construction
  line L26 (105.7275, 0) -> (105.7275, 14.7) construction
  line L27 (105.7275, 14.7) -> (100.6475, 14.7) construction
  line L28 (173.6725, 0) -> (173.6725, 10.16) construction
  line L29 (173.6725, 10.16) -> (168.5925, 10.16) construction
  line L30 (168.5925, 10.16) -> (168.5925, 0) construction
  line L31 (168.5925, 0) -> (173.6725, 0) construction
  line L32 (0, 0) -> (32.7025, 0) construction
  dimension "d91" = 32.7025
  dimension "d92" = 62.865
  dimension "d93" = 62.865
sketch "Sketch8" plane through (-228.6, 69.85, 2) normal (0, 1, 0) x (1, 0, 0)
  line L0 (-1.655, 10.7869) -> (231.4102, 10.7869)
  line L1 (231.4102, 10.7869) -> (231.4102, -6.2526)
  line L2 (231.4102, -6.2526) -> (-1.655, -6.2526)
  line L3 (-1.655, -6.2526) -> (-1.655, 10.7869)
  point P0 (228.6, 2)
extrude "Extrusion6" cut sketch "Sketch8" against normal blind 63.5
properties part number "front_panel"
